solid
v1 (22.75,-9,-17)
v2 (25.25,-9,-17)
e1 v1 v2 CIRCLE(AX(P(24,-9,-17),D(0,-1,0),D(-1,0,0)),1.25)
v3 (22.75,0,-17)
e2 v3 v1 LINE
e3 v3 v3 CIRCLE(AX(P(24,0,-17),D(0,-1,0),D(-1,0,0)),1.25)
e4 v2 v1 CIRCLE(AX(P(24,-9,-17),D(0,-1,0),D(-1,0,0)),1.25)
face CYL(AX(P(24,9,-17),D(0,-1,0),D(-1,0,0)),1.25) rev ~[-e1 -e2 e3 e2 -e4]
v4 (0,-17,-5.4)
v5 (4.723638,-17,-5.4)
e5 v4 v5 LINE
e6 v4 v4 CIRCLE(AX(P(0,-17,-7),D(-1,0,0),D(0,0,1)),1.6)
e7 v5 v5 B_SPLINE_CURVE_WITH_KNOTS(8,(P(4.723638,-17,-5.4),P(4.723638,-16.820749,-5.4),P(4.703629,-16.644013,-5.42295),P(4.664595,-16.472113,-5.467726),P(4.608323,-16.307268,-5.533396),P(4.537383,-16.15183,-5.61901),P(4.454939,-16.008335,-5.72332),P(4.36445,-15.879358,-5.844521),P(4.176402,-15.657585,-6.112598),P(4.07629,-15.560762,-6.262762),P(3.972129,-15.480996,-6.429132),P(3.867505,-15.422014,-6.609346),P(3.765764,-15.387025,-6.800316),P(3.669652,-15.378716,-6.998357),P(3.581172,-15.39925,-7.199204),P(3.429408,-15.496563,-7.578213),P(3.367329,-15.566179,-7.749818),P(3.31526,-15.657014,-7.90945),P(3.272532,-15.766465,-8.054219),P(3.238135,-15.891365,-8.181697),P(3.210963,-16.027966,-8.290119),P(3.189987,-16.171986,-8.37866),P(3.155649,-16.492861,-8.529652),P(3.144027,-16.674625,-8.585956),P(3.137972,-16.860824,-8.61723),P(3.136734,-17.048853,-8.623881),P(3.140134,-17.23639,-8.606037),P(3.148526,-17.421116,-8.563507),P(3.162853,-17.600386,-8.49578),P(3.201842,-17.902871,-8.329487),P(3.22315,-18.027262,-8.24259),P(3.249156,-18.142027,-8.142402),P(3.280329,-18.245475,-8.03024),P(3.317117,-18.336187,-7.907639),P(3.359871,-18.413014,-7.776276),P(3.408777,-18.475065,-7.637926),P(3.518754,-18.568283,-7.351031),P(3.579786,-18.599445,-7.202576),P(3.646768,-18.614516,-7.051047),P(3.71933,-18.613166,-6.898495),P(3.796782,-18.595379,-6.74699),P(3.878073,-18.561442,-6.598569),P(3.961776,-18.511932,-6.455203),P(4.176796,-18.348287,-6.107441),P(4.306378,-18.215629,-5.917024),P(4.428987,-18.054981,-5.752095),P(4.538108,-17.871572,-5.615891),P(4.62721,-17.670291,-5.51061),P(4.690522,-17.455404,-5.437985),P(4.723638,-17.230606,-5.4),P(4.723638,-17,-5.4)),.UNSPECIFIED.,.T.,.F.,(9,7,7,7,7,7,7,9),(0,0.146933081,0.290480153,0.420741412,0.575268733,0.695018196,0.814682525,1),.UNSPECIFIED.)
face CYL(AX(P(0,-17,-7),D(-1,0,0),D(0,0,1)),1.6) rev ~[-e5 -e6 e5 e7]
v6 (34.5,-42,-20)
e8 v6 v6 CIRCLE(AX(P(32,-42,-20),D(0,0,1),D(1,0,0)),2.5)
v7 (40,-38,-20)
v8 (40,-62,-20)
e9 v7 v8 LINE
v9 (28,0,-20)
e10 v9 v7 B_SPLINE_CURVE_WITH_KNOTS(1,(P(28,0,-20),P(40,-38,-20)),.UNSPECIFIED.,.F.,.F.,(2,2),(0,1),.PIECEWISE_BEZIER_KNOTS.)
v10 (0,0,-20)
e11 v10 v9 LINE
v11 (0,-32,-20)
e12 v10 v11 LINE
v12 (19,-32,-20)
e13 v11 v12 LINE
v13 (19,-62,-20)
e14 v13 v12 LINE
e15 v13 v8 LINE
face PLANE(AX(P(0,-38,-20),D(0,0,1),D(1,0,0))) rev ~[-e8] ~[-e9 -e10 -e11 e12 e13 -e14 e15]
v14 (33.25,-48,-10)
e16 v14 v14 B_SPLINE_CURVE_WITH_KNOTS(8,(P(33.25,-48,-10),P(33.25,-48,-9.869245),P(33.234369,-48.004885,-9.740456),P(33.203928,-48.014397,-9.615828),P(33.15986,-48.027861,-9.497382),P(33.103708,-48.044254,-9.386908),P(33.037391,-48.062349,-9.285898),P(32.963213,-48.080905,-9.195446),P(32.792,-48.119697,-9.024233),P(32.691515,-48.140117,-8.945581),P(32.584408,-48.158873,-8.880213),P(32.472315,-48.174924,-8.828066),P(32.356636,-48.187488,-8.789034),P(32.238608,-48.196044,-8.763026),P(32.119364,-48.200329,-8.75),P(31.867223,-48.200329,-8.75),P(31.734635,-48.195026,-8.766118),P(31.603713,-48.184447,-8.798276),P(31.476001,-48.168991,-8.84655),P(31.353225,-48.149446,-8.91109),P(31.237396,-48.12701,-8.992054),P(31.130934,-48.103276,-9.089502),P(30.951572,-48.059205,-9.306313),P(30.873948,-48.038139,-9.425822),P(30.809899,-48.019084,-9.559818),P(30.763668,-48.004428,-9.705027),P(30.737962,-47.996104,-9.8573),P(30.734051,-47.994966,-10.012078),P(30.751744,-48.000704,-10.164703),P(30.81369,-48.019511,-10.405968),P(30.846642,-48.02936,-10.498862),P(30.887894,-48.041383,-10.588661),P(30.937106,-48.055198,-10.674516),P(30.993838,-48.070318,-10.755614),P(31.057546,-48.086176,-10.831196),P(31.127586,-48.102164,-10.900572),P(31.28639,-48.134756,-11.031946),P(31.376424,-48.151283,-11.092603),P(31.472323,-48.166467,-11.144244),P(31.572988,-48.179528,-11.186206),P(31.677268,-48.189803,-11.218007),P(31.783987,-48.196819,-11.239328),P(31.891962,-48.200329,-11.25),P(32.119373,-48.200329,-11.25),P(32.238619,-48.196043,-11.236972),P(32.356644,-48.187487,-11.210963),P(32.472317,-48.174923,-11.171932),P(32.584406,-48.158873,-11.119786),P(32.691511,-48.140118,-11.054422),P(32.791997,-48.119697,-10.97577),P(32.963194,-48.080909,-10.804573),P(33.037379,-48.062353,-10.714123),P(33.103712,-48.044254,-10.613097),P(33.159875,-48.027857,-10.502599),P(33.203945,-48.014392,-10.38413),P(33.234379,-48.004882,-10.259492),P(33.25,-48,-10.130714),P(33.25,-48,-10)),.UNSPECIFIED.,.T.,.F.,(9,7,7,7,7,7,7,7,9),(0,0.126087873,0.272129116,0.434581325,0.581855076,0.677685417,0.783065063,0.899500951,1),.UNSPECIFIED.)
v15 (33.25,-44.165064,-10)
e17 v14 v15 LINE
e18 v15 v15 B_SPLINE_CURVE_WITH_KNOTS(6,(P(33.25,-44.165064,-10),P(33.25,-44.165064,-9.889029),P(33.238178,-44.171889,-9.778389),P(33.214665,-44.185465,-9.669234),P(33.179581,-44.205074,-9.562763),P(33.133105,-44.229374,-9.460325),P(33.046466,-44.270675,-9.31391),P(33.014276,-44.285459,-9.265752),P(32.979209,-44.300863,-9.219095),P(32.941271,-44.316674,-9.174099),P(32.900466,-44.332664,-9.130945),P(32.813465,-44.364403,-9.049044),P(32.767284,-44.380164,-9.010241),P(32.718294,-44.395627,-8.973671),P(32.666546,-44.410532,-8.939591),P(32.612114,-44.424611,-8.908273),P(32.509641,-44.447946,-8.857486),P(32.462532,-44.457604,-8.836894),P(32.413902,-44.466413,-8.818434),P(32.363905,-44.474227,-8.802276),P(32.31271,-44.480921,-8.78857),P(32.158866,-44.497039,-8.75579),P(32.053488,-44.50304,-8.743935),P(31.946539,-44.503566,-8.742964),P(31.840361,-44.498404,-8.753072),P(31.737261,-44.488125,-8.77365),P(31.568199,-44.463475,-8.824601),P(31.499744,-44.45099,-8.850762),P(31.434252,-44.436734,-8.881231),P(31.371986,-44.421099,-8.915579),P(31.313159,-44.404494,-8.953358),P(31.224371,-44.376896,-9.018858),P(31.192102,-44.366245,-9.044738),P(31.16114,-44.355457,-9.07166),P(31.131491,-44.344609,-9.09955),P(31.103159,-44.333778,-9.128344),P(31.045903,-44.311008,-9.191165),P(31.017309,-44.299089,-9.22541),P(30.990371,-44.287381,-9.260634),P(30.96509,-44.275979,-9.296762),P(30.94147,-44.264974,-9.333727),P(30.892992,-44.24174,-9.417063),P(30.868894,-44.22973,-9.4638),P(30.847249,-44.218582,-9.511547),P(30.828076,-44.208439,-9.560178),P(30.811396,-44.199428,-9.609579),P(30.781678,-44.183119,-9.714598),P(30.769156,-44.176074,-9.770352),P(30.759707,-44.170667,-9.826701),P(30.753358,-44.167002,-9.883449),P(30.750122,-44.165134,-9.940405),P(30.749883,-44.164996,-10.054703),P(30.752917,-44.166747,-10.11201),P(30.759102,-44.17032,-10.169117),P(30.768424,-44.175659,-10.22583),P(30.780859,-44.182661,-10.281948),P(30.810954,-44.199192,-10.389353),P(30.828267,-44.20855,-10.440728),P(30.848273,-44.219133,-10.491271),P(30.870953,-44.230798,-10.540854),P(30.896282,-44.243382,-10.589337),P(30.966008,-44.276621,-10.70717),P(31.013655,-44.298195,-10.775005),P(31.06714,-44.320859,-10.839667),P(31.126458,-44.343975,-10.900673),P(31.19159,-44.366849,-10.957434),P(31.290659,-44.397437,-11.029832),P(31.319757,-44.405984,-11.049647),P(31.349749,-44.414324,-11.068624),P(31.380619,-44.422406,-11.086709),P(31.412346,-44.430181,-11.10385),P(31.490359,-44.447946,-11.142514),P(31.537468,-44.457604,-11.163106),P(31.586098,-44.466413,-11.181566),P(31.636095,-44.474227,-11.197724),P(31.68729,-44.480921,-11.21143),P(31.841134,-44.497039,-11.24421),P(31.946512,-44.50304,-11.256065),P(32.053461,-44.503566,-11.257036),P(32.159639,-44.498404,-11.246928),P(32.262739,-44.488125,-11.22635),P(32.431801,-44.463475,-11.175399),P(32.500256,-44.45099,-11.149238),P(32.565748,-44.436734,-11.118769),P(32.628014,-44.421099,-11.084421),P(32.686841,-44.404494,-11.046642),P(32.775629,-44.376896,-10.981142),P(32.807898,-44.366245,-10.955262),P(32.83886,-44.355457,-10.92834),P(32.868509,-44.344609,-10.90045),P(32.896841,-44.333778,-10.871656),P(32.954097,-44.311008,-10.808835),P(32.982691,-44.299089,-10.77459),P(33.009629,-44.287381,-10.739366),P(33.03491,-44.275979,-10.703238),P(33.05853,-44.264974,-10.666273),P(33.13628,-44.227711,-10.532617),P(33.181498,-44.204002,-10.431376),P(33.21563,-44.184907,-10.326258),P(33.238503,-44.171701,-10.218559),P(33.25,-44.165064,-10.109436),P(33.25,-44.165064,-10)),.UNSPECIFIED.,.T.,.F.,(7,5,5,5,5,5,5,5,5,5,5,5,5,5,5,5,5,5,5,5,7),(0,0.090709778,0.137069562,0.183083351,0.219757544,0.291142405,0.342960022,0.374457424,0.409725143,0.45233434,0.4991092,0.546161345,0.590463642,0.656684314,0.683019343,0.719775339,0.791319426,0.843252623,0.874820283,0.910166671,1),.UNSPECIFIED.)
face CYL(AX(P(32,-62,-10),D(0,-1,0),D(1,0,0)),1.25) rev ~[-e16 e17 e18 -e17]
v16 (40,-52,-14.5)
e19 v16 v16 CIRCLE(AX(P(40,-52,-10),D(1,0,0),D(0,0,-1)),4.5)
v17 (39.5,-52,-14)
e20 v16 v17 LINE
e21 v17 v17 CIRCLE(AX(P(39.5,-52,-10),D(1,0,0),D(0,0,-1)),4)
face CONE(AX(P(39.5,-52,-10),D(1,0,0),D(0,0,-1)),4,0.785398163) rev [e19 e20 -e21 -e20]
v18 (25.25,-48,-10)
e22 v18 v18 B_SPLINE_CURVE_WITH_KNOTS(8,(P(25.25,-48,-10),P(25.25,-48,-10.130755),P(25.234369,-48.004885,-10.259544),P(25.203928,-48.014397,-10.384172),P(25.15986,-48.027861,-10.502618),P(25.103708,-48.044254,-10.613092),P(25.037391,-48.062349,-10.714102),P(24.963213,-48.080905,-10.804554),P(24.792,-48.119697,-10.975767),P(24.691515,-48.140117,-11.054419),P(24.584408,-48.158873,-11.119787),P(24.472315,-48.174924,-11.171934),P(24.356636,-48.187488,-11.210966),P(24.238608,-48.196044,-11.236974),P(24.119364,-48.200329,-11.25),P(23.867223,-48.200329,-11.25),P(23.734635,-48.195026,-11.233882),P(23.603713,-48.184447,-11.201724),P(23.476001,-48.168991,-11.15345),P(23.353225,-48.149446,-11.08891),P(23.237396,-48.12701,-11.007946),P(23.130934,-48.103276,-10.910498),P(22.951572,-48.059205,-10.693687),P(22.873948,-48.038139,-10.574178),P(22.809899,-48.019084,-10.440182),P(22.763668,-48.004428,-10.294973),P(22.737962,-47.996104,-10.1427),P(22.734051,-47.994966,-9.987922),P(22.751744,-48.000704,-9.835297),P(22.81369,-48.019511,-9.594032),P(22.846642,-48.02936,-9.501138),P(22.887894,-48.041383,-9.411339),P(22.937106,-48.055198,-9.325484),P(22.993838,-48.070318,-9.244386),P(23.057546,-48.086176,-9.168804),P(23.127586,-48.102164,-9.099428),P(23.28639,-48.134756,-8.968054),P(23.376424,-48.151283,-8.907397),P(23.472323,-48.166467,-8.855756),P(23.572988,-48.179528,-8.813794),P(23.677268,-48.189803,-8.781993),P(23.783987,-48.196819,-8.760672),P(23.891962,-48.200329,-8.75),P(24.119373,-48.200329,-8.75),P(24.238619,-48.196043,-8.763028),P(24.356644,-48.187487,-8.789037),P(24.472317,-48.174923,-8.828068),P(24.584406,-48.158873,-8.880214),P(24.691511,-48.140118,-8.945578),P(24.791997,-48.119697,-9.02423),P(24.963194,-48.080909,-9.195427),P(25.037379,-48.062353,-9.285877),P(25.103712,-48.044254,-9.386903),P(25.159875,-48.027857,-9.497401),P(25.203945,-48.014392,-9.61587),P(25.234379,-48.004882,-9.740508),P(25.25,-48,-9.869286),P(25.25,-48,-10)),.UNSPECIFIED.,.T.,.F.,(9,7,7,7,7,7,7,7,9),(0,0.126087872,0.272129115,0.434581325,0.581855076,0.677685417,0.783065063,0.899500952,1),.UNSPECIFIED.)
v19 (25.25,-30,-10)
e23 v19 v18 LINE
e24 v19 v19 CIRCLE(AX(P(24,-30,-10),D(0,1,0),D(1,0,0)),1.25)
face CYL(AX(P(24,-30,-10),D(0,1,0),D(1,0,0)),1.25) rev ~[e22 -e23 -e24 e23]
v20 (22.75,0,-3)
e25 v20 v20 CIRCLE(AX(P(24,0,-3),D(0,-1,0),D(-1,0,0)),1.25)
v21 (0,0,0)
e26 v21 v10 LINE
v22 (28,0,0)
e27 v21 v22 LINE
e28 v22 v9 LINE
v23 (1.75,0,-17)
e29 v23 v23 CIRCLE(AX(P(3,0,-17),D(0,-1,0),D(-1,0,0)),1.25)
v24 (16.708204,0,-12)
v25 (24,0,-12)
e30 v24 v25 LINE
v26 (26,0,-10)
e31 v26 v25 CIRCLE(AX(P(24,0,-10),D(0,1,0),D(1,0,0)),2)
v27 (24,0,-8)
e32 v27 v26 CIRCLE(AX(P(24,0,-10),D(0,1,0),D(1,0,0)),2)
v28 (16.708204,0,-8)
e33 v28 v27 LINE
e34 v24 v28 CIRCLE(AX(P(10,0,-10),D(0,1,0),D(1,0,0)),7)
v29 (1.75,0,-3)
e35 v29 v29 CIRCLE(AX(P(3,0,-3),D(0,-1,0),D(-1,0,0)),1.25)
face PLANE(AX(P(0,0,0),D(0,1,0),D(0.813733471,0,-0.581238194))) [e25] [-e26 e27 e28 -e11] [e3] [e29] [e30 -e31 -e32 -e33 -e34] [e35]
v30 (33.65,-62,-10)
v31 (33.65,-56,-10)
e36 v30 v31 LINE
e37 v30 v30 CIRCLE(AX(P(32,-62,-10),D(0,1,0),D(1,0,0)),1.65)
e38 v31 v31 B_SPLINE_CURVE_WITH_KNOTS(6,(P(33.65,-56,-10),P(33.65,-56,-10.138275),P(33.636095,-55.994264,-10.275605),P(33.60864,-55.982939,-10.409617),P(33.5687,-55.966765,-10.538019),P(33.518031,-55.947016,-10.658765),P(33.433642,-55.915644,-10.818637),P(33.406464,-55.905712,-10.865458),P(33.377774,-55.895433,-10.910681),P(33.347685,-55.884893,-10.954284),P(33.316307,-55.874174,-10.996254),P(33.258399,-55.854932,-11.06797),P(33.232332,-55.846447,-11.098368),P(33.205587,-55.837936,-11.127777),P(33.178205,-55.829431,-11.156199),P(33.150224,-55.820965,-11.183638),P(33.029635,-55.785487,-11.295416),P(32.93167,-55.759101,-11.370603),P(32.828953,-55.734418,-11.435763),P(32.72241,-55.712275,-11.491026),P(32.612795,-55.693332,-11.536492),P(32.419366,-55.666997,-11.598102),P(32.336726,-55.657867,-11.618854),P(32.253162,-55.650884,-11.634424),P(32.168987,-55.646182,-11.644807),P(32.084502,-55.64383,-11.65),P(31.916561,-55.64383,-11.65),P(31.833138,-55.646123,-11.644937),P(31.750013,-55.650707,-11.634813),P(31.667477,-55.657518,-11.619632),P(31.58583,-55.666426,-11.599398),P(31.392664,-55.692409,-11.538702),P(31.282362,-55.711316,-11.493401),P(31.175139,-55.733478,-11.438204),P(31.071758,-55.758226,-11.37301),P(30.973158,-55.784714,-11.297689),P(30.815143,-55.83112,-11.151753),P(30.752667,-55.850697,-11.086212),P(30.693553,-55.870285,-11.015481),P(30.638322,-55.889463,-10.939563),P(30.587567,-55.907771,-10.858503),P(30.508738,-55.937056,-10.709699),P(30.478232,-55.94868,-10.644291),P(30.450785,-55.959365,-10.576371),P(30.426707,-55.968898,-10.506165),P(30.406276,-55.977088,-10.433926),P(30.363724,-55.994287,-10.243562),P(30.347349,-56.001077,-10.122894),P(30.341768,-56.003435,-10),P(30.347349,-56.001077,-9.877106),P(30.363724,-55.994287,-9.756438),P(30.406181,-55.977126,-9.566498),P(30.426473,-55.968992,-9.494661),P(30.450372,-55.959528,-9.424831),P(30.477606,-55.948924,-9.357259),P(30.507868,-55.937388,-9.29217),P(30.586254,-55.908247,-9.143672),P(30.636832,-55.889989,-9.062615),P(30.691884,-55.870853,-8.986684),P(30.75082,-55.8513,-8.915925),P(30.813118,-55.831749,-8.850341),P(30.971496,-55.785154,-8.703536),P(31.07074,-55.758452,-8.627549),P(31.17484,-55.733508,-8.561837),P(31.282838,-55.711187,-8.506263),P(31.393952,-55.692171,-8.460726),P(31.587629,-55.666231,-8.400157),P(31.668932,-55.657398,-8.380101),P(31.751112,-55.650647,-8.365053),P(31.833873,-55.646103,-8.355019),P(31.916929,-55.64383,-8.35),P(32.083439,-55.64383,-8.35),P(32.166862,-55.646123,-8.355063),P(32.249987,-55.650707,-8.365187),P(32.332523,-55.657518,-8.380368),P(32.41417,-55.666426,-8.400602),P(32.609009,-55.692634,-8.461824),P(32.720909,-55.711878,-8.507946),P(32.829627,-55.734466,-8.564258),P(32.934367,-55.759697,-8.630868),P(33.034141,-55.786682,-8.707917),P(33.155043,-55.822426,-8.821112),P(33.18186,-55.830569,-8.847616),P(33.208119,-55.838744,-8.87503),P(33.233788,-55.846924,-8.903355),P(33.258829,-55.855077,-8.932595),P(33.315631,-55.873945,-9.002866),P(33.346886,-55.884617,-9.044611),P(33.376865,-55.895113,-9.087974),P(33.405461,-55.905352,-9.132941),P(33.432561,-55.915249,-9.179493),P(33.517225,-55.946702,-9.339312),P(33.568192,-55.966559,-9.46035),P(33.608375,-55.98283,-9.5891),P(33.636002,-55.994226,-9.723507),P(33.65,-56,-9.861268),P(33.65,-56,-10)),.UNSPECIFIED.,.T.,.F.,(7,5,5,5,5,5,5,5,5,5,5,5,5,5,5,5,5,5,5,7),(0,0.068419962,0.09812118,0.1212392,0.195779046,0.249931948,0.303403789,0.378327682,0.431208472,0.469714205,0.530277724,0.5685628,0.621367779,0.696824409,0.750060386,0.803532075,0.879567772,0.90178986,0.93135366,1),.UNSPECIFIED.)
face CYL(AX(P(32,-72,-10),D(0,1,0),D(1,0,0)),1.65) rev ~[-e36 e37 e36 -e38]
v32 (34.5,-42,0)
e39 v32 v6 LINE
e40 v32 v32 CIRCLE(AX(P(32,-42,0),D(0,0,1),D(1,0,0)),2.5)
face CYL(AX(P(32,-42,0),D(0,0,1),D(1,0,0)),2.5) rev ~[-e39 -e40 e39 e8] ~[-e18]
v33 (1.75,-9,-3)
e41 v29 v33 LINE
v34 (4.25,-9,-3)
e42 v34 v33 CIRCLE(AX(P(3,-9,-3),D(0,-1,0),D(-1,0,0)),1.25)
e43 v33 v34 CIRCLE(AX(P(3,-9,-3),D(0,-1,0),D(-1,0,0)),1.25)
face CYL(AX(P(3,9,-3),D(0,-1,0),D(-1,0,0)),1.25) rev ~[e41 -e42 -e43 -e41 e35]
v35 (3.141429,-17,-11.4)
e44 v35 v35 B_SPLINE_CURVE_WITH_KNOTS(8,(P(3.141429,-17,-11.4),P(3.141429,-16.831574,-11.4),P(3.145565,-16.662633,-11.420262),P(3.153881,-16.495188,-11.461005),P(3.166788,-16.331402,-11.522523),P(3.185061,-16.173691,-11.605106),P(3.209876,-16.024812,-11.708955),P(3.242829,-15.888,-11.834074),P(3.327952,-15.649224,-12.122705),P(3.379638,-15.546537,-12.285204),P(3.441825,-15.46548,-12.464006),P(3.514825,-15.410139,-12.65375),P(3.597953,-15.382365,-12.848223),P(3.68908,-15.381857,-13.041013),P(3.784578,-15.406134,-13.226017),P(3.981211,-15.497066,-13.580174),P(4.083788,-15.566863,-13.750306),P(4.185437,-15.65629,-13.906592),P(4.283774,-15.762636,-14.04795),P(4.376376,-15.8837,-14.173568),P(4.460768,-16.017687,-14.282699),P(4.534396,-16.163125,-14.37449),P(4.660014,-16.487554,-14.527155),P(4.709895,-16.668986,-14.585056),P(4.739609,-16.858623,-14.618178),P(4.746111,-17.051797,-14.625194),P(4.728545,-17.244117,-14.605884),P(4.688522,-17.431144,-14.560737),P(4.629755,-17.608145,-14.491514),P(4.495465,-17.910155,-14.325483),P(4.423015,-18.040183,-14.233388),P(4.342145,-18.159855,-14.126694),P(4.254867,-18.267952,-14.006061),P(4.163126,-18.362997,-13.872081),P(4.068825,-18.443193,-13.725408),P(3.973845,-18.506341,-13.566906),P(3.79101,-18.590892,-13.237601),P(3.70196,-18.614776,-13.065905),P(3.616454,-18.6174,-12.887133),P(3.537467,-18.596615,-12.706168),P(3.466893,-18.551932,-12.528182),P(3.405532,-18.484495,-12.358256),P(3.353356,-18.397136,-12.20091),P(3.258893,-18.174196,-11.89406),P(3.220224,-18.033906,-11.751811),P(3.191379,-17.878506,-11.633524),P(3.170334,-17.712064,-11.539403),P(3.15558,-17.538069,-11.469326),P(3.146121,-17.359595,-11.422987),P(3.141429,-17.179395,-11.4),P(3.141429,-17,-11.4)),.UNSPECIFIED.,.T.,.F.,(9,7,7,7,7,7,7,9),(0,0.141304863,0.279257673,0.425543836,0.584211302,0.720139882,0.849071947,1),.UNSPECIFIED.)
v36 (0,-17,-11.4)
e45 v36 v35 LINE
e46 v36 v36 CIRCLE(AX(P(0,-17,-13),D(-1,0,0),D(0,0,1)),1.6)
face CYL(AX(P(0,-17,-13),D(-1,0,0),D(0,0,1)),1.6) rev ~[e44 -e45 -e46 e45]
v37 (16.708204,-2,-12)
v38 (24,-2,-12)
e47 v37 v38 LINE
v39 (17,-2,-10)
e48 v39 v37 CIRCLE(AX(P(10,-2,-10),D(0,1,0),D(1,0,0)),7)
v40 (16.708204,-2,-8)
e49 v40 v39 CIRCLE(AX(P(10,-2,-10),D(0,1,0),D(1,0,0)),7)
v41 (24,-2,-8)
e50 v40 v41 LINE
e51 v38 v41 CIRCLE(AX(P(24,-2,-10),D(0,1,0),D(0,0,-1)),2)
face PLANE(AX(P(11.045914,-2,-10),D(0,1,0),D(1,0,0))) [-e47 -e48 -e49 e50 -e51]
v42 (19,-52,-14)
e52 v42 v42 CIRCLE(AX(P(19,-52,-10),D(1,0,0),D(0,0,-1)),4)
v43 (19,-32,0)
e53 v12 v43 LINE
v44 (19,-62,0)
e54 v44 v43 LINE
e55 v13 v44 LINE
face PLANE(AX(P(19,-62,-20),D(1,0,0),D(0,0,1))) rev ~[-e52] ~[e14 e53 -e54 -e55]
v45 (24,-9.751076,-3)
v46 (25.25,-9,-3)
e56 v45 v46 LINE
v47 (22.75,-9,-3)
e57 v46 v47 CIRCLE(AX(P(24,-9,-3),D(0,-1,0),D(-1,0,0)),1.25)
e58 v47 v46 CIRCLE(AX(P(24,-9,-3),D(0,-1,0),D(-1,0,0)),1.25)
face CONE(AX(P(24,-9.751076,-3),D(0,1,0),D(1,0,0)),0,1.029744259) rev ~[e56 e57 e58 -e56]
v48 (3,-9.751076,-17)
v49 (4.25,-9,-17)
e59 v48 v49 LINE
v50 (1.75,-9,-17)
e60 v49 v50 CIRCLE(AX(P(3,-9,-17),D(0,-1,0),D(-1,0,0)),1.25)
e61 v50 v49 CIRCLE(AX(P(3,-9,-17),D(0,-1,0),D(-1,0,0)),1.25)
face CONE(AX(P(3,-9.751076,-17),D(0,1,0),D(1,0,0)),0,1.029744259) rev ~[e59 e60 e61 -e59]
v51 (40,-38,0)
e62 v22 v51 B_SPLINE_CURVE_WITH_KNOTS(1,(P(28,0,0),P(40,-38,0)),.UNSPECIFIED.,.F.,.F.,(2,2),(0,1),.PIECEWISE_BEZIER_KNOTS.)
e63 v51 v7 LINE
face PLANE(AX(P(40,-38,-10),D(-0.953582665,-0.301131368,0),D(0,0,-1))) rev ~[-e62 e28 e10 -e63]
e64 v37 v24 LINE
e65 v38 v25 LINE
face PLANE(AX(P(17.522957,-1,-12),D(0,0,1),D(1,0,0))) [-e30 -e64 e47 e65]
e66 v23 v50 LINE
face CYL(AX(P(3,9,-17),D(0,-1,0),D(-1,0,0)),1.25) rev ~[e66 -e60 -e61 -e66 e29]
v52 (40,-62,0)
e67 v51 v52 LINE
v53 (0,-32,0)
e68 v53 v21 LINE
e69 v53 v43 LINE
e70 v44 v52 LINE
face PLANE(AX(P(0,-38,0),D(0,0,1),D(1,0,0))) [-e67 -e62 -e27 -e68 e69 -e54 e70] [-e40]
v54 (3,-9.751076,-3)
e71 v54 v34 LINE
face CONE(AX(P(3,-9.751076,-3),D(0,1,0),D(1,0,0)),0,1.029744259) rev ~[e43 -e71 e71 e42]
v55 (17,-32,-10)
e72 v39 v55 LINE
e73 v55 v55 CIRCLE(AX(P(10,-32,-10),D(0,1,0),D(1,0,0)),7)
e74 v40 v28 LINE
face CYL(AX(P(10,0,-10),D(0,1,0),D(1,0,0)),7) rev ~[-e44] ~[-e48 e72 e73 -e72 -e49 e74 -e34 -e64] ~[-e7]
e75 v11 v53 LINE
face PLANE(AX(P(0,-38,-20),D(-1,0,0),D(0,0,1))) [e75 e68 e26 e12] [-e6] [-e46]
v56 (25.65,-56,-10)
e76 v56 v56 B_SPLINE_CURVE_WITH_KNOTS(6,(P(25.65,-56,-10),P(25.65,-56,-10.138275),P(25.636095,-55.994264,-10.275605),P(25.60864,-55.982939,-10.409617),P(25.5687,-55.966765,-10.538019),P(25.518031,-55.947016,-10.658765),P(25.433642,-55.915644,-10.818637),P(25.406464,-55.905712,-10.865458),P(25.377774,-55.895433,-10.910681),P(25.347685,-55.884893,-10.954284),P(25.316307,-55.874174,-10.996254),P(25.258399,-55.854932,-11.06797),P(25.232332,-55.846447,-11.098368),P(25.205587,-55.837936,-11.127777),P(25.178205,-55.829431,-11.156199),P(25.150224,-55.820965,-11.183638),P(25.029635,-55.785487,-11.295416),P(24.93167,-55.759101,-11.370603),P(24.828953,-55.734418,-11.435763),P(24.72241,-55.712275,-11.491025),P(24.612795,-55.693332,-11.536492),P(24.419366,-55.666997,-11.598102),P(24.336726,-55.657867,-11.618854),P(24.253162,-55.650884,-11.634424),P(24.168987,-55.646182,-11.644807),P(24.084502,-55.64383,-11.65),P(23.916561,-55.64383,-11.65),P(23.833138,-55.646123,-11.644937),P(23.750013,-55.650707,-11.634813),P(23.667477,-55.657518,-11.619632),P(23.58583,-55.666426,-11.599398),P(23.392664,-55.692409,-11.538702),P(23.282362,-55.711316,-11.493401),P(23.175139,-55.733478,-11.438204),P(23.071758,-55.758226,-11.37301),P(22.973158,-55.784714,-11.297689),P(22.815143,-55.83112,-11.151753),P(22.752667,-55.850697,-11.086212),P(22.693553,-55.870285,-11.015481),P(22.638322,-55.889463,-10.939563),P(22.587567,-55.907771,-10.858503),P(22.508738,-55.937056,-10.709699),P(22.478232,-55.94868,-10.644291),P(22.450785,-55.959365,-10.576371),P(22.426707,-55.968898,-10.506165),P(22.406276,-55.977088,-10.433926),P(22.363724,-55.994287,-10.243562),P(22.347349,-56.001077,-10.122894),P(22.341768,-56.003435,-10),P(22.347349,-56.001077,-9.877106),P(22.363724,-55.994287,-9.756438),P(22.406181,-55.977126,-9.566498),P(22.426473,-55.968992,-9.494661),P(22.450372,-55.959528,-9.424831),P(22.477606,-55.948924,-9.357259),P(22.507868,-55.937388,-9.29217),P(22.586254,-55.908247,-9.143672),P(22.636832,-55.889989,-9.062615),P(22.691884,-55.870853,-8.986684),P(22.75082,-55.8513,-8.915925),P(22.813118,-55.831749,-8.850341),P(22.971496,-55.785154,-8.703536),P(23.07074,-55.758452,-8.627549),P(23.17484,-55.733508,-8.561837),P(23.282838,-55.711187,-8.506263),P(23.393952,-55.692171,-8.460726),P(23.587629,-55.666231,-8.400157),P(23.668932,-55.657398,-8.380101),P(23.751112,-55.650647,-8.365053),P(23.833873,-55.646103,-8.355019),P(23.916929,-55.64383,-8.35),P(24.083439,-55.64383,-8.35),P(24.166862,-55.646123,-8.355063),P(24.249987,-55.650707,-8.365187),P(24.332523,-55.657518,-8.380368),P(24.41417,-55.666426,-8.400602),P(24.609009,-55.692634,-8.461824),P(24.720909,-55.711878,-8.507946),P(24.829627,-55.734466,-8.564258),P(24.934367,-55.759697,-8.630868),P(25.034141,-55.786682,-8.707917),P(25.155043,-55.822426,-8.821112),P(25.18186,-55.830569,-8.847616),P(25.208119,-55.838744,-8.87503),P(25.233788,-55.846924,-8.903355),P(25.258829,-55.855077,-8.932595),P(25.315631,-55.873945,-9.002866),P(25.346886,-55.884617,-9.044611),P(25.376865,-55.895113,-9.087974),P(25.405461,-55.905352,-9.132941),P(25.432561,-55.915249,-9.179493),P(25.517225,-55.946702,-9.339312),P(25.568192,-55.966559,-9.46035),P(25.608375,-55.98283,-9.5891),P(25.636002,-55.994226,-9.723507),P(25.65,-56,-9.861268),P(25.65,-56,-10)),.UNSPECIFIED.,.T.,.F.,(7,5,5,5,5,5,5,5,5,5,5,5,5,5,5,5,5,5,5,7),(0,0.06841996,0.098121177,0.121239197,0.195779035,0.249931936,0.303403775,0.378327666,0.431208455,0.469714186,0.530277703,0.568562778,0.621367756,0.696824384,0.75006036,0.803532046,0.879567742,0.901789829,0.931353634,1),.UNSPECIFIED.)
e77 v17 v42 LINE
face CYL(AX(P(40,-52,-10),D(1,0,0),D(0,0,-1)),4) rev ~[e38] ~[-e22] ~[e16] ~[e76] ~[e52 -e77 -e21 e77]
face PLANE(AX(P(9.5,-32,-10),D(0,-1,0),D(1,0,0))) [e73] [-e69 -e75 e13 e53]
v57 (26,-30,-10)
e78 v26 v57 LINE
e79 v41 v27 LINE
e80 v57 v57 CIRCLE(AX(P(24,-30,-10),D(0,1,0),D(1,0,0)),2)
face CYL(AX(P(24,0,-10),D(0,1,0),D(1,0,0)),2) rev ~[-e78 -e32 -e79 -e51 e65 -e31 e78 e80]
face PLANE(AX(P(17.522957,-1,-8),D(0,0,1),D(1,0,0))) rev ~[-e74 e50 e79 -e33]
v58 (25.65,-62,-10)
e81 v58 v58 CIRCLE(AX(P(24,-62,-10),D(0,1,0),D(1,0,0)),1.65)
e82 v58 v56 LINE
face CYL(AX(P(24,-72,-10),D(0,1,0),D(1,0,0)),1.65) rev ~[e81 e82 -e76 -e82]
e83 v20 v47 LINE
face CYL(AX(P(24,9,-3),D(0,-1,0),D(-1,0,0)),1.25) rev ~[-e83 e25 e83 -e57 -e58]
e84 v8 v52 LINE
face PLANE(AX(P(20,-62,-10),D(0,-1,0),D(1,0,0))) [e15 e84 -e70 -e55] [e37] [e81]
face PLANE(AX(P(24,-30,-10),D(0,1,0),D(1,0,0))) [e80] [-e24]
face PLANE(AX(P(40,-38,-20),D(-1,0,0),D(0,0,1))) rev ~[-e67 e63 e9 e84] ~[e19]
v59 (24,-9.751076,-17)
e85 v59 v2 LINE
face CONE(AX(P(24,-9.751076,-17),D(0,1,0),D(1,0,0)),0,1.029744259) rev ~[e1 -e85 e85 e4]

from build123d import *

# Parameters (mm, degrees)
SKETCH_1_W                = 28
SKETCH_1_H                = 20
SKETCH_2_W                = 40
SKETCH_2_H                = 20
SKETCH_3_W                = 40
SKETCH_3_H                = 20
EXTRUDE_1_DEPTH           = 24
SKETCH_4_W                = 19
SKETCH_4_H                = 20
CUT_EXTRUDE_1_DEPTH       = 30
HOLE_WIZARD_M31_D         = 2.5
HOLE_WIZARD_M31_DEPTH     = 9
HOLE_WIZARD_M31_TIP       = 0.751075774
SKETCH_11_R               = 7
CUT_EXTRUDE_3_DEPTH       = 32
SKETCH_12_R               = 2
CUT_EXTRUDE_4_DEPTH       = 30
SKETCH_13_R               = 1.25
CUT_EXTRUDE_5_DEPTH       = 22
CUT_EXTRUDE_6_REACH       = 42
SKETCH_14_R               = 1.6
SKETCH_15_R               = 4
CUT_EXTRUDE_7_DEPTH       = 21
CHAMFER_1_SIZE            = 0.5
HOLE_WIZARD_M41_D         = 3.3
HOLE_WIZARD_M41_DEPTH     = 10
HOLE_WIZARD_M41_TIP       = 0.991420021
SKETCH_21_R               = 2.5
CUT_EXTRUDE_8_DEPTH       = 20
CUT_EXTRUDE_9_REACH       = 64
SKETCH_22_R               = 1.25
SKETCH_23_W               = 12.954085538
SKETCH_23_H               = 2
CUT_EXTRUDE_10_DEPTH      = 2
CUT_EXTRUDE_10_DEPTH_BACK = 2


with BuildPart() as part:
    # Эскиз1 → По сечениям1 section 0
    with BuildSketch(Plane(origin=(0, 0, 0), x_dir=(1, 0, 0), z_dir=(0, 1, 0))):
        with Locations((14, 10)):
            Rectangle(SKETCH_1_W, SKETCH_1_H)
    # Эскиз2 → По сечениям1 section 1
    with BuildSketch(Plane(origin=(0, -38, 0), x_dir=(1, 0, 0), z_dir=(0, 1, 0))):
        with Locations((20, 10)):
            Rectangle(SKETCH_2_W, SKETCH_2_H)
    loft()

    # Эскиз3 → Бобышка-Вытянуть1 (add)
    with BuildSketch(Plane.XZ.offset(38)):
        with Locations((20, -10)):
            Rectangle(SKETCH_3_W, SKETCH_3_H)
    extrude(amount=EXTRUDE_1_DEPTH)

    # Эскиз4 → Вырез-Вытянуть1 (cut)
    with BuildSketch(Plane.XZ.offset(62)):
        with Locations((9.5, -10)):
            Rectangle(SKETCH_4_W, SKETCH_4_H)
    extrude(amount=-CUT_EXTRUDE_1_DEPTH, mode=Mode.SUBTRACT)

    # Отверстие обработанное метчиком M31
    with Locations(Plane(origin=(0, 0, 0), x_dir=(1, 0, 0), z_dir=(0, 1, 0))):
        with Locations((3, 3), (3, 17), (24, 17), (24, 3)):
            Hole(HOLE_WIZARD_M31_D / 2, depth=HOLE_WIZARD_M31_DEPTH)
            with Locations((0, 0, -(HOLE_WIZARD_M31_DEPTH + HOLE_WIZARD_M31_TIP / 2))):  # 118° drill point
                Cone(0, HOLE_WIZARD_M31_D / 2, HOLE_WIZARD_M31_TIP, mode=Mode.SUBTRACT)

    # Эскиз11 → Вырез-Вытянуть3 (cut)
    with BuildSketch(Plane(origin=(0, 0, 0), x_dir=(1, 0, 0), z_dir=(0, 1, 0))):
        with Locations((10, 10)):
            Circle(SKETCH_11_R)
    extrude(amount=-CUT_EXTRUDE_3_DEPTH, mode=Mode.SUBTRACT)

    # Эскиз12 → Вырез-Вытянуть4 (cut)
    with BuildSketch(Plane(origin=(0, 0, 0), x_dir=(1, 0, 0), z_dir=(0, 1, 0))):
        with Locations((24, 10)):
            Circle(SKETCH_12_R)
    extrude(amount=-CUT_EXTRUDE_4_DEPTH, mode=Mode.SUBTRACT)

    # Эскиз13 → Вырез-Вытянуть5 (cut)
    with BuildSketch(Plane(origin=(0, -30, 0), x_dir=(1, 0, 0), z_dir=(0, 1, 0))):
        with Locations((24, 10)):
            Circle(SKETCH_13_R)
    extrude(amount=-CUT_EXTRUDE_5_DEPTH, mode=Mode.SUBTRACT)

    # Эскиз14 → Вырез-Вытянуть6 (cut, up to next)
    with BuildSketch(Plane.ZY, mode=Mode.PRIVATE) as cut_extrude_6_sk1:
        with Locations((-13, -17)):
            Circle(SKETCH_14_R)
    cut_extrude_6_tool1 = extrude(cut_extrude_6_sk1.sketch, amount=-CUT_EXTRUDE_6_REACH, mode=Mode.PRIVATE) & part.part
    add(cut_extrude_6_tool1.solids().sort_by_distance((0, -17, -13))[0], mode=Mode.SUBTRACT)
    # Эскиз14 → Вырез-Вытянуть6 (cut, up to next)
    with BuildSketch(Plane.ZY, mode=Mode.PRIVATE) as cut_extrude_6_sk2:
        with Locations((-7, -17)):
            Circle(SKETCH_14_R)
    cut_extrude_6_tool2 = extrude(cut_extrude_6_sk2.sketch, amount=-CUT_EXTRUDE_6_REACH, mode=Mode.PRIVATE) & part.part
    add(cut_extrude_6_tool2.solids().sort_by_distance((0, -17, -7))[0], mode=Mode.SUBTRACT)

    # Эскиз15 → Вырез-Вытянуть7 (cut)
    with BuildSketch(Plane(origin=(40, 0, 0), x_dir=(0, 0, -1), z_dir=(1, 0, 0))):
        with Locations((10, -52)):
            Circle(SKETCH_15_R)
    extrude(amount=-CUT_EXTRUDE_7_DEPTH, mode=Mode.SUBTRACT)

    # Фаска1
    chamfer_1_edges = [part.edges().sort_by_distance(p)[0] for p in [
        (40, -52, -6),
    ]]
    chamfer(chamfer_1_edges, length=CHAMFER_1_SIZE)

    # Отверстие обработанное метчиком M41
    with Locations(Plane(origin=(0, -62, 0), x_dir=(-1, 0, 0), z_dir=(0, -1, 0))):
        with Locations((-32, 10), (-24, 10)):
            Hole(HOLE_WIZARD_M41_D / 2, depth=HOLE_WIZARD_M41_DEPTH)
            with Locations((0, 0, -(HOLE_WIZARD_M41_DEPTH + HOLE_WIZARD_M41_TIP / 2))):  # 118° drill point
                Cone(0, HOLE_WIZARD_M41_D / 2, HOLE_WIZARD_M41_TIP, mode=Mode.SUBTRACT)

    # Эскиз21 → Вырез-Вытянуть8 (cut)
    with BuildSketch(Plane.XY):
        with Locations((32, -42)):
            Circle(SKETCH_21_R)
    extrude(amount=-CUT_EXTRUDE_8_DEPTH, mode=Mode.SUBTRACT)

    # Эскиз22 → Вырез-Вытянуть9 (cut, up to next)
    with BuildSketch(Plane.XZ.offset(62), mode=Mode.PRIVATE) as cut_extrude_9_sk1:
        with Locations((32, -10)):
            Circle(SKETCH_22_R)
    cut_extrude_9_tool1 = extrude(cut_extrude_9_sk1.sketch, amount=-CUT_EXTRUDE_9_REACH, mode=Mode.PRIVATE) & part.part
    add(cut_extrude_9_tool1.solids().sort_by_distance((32, -62, -10))[0], mode=Mode.SUBTRACT)

    # Эскиз23 → Вырез-Вытянуть10 (cut, two sides)
    with BuildSketch(Plane.XY.offset(-10)) as cut_extrude_10_sk:
        with Locations((17.522957231, -1)):
            Rectangle(SKETCH_23_W, SKETCH_23_H)
    extrude(amount=CUT_EXTRUDE_10_DEPTH, mode=Mode.SUBTRACT)
    extrude(cut_extrude_10_sk.sketch, amount=-CUT_EXTRUDE_10_DEPTH_BACK, mode=Mode.SUBTRACT)


solid = part.part
